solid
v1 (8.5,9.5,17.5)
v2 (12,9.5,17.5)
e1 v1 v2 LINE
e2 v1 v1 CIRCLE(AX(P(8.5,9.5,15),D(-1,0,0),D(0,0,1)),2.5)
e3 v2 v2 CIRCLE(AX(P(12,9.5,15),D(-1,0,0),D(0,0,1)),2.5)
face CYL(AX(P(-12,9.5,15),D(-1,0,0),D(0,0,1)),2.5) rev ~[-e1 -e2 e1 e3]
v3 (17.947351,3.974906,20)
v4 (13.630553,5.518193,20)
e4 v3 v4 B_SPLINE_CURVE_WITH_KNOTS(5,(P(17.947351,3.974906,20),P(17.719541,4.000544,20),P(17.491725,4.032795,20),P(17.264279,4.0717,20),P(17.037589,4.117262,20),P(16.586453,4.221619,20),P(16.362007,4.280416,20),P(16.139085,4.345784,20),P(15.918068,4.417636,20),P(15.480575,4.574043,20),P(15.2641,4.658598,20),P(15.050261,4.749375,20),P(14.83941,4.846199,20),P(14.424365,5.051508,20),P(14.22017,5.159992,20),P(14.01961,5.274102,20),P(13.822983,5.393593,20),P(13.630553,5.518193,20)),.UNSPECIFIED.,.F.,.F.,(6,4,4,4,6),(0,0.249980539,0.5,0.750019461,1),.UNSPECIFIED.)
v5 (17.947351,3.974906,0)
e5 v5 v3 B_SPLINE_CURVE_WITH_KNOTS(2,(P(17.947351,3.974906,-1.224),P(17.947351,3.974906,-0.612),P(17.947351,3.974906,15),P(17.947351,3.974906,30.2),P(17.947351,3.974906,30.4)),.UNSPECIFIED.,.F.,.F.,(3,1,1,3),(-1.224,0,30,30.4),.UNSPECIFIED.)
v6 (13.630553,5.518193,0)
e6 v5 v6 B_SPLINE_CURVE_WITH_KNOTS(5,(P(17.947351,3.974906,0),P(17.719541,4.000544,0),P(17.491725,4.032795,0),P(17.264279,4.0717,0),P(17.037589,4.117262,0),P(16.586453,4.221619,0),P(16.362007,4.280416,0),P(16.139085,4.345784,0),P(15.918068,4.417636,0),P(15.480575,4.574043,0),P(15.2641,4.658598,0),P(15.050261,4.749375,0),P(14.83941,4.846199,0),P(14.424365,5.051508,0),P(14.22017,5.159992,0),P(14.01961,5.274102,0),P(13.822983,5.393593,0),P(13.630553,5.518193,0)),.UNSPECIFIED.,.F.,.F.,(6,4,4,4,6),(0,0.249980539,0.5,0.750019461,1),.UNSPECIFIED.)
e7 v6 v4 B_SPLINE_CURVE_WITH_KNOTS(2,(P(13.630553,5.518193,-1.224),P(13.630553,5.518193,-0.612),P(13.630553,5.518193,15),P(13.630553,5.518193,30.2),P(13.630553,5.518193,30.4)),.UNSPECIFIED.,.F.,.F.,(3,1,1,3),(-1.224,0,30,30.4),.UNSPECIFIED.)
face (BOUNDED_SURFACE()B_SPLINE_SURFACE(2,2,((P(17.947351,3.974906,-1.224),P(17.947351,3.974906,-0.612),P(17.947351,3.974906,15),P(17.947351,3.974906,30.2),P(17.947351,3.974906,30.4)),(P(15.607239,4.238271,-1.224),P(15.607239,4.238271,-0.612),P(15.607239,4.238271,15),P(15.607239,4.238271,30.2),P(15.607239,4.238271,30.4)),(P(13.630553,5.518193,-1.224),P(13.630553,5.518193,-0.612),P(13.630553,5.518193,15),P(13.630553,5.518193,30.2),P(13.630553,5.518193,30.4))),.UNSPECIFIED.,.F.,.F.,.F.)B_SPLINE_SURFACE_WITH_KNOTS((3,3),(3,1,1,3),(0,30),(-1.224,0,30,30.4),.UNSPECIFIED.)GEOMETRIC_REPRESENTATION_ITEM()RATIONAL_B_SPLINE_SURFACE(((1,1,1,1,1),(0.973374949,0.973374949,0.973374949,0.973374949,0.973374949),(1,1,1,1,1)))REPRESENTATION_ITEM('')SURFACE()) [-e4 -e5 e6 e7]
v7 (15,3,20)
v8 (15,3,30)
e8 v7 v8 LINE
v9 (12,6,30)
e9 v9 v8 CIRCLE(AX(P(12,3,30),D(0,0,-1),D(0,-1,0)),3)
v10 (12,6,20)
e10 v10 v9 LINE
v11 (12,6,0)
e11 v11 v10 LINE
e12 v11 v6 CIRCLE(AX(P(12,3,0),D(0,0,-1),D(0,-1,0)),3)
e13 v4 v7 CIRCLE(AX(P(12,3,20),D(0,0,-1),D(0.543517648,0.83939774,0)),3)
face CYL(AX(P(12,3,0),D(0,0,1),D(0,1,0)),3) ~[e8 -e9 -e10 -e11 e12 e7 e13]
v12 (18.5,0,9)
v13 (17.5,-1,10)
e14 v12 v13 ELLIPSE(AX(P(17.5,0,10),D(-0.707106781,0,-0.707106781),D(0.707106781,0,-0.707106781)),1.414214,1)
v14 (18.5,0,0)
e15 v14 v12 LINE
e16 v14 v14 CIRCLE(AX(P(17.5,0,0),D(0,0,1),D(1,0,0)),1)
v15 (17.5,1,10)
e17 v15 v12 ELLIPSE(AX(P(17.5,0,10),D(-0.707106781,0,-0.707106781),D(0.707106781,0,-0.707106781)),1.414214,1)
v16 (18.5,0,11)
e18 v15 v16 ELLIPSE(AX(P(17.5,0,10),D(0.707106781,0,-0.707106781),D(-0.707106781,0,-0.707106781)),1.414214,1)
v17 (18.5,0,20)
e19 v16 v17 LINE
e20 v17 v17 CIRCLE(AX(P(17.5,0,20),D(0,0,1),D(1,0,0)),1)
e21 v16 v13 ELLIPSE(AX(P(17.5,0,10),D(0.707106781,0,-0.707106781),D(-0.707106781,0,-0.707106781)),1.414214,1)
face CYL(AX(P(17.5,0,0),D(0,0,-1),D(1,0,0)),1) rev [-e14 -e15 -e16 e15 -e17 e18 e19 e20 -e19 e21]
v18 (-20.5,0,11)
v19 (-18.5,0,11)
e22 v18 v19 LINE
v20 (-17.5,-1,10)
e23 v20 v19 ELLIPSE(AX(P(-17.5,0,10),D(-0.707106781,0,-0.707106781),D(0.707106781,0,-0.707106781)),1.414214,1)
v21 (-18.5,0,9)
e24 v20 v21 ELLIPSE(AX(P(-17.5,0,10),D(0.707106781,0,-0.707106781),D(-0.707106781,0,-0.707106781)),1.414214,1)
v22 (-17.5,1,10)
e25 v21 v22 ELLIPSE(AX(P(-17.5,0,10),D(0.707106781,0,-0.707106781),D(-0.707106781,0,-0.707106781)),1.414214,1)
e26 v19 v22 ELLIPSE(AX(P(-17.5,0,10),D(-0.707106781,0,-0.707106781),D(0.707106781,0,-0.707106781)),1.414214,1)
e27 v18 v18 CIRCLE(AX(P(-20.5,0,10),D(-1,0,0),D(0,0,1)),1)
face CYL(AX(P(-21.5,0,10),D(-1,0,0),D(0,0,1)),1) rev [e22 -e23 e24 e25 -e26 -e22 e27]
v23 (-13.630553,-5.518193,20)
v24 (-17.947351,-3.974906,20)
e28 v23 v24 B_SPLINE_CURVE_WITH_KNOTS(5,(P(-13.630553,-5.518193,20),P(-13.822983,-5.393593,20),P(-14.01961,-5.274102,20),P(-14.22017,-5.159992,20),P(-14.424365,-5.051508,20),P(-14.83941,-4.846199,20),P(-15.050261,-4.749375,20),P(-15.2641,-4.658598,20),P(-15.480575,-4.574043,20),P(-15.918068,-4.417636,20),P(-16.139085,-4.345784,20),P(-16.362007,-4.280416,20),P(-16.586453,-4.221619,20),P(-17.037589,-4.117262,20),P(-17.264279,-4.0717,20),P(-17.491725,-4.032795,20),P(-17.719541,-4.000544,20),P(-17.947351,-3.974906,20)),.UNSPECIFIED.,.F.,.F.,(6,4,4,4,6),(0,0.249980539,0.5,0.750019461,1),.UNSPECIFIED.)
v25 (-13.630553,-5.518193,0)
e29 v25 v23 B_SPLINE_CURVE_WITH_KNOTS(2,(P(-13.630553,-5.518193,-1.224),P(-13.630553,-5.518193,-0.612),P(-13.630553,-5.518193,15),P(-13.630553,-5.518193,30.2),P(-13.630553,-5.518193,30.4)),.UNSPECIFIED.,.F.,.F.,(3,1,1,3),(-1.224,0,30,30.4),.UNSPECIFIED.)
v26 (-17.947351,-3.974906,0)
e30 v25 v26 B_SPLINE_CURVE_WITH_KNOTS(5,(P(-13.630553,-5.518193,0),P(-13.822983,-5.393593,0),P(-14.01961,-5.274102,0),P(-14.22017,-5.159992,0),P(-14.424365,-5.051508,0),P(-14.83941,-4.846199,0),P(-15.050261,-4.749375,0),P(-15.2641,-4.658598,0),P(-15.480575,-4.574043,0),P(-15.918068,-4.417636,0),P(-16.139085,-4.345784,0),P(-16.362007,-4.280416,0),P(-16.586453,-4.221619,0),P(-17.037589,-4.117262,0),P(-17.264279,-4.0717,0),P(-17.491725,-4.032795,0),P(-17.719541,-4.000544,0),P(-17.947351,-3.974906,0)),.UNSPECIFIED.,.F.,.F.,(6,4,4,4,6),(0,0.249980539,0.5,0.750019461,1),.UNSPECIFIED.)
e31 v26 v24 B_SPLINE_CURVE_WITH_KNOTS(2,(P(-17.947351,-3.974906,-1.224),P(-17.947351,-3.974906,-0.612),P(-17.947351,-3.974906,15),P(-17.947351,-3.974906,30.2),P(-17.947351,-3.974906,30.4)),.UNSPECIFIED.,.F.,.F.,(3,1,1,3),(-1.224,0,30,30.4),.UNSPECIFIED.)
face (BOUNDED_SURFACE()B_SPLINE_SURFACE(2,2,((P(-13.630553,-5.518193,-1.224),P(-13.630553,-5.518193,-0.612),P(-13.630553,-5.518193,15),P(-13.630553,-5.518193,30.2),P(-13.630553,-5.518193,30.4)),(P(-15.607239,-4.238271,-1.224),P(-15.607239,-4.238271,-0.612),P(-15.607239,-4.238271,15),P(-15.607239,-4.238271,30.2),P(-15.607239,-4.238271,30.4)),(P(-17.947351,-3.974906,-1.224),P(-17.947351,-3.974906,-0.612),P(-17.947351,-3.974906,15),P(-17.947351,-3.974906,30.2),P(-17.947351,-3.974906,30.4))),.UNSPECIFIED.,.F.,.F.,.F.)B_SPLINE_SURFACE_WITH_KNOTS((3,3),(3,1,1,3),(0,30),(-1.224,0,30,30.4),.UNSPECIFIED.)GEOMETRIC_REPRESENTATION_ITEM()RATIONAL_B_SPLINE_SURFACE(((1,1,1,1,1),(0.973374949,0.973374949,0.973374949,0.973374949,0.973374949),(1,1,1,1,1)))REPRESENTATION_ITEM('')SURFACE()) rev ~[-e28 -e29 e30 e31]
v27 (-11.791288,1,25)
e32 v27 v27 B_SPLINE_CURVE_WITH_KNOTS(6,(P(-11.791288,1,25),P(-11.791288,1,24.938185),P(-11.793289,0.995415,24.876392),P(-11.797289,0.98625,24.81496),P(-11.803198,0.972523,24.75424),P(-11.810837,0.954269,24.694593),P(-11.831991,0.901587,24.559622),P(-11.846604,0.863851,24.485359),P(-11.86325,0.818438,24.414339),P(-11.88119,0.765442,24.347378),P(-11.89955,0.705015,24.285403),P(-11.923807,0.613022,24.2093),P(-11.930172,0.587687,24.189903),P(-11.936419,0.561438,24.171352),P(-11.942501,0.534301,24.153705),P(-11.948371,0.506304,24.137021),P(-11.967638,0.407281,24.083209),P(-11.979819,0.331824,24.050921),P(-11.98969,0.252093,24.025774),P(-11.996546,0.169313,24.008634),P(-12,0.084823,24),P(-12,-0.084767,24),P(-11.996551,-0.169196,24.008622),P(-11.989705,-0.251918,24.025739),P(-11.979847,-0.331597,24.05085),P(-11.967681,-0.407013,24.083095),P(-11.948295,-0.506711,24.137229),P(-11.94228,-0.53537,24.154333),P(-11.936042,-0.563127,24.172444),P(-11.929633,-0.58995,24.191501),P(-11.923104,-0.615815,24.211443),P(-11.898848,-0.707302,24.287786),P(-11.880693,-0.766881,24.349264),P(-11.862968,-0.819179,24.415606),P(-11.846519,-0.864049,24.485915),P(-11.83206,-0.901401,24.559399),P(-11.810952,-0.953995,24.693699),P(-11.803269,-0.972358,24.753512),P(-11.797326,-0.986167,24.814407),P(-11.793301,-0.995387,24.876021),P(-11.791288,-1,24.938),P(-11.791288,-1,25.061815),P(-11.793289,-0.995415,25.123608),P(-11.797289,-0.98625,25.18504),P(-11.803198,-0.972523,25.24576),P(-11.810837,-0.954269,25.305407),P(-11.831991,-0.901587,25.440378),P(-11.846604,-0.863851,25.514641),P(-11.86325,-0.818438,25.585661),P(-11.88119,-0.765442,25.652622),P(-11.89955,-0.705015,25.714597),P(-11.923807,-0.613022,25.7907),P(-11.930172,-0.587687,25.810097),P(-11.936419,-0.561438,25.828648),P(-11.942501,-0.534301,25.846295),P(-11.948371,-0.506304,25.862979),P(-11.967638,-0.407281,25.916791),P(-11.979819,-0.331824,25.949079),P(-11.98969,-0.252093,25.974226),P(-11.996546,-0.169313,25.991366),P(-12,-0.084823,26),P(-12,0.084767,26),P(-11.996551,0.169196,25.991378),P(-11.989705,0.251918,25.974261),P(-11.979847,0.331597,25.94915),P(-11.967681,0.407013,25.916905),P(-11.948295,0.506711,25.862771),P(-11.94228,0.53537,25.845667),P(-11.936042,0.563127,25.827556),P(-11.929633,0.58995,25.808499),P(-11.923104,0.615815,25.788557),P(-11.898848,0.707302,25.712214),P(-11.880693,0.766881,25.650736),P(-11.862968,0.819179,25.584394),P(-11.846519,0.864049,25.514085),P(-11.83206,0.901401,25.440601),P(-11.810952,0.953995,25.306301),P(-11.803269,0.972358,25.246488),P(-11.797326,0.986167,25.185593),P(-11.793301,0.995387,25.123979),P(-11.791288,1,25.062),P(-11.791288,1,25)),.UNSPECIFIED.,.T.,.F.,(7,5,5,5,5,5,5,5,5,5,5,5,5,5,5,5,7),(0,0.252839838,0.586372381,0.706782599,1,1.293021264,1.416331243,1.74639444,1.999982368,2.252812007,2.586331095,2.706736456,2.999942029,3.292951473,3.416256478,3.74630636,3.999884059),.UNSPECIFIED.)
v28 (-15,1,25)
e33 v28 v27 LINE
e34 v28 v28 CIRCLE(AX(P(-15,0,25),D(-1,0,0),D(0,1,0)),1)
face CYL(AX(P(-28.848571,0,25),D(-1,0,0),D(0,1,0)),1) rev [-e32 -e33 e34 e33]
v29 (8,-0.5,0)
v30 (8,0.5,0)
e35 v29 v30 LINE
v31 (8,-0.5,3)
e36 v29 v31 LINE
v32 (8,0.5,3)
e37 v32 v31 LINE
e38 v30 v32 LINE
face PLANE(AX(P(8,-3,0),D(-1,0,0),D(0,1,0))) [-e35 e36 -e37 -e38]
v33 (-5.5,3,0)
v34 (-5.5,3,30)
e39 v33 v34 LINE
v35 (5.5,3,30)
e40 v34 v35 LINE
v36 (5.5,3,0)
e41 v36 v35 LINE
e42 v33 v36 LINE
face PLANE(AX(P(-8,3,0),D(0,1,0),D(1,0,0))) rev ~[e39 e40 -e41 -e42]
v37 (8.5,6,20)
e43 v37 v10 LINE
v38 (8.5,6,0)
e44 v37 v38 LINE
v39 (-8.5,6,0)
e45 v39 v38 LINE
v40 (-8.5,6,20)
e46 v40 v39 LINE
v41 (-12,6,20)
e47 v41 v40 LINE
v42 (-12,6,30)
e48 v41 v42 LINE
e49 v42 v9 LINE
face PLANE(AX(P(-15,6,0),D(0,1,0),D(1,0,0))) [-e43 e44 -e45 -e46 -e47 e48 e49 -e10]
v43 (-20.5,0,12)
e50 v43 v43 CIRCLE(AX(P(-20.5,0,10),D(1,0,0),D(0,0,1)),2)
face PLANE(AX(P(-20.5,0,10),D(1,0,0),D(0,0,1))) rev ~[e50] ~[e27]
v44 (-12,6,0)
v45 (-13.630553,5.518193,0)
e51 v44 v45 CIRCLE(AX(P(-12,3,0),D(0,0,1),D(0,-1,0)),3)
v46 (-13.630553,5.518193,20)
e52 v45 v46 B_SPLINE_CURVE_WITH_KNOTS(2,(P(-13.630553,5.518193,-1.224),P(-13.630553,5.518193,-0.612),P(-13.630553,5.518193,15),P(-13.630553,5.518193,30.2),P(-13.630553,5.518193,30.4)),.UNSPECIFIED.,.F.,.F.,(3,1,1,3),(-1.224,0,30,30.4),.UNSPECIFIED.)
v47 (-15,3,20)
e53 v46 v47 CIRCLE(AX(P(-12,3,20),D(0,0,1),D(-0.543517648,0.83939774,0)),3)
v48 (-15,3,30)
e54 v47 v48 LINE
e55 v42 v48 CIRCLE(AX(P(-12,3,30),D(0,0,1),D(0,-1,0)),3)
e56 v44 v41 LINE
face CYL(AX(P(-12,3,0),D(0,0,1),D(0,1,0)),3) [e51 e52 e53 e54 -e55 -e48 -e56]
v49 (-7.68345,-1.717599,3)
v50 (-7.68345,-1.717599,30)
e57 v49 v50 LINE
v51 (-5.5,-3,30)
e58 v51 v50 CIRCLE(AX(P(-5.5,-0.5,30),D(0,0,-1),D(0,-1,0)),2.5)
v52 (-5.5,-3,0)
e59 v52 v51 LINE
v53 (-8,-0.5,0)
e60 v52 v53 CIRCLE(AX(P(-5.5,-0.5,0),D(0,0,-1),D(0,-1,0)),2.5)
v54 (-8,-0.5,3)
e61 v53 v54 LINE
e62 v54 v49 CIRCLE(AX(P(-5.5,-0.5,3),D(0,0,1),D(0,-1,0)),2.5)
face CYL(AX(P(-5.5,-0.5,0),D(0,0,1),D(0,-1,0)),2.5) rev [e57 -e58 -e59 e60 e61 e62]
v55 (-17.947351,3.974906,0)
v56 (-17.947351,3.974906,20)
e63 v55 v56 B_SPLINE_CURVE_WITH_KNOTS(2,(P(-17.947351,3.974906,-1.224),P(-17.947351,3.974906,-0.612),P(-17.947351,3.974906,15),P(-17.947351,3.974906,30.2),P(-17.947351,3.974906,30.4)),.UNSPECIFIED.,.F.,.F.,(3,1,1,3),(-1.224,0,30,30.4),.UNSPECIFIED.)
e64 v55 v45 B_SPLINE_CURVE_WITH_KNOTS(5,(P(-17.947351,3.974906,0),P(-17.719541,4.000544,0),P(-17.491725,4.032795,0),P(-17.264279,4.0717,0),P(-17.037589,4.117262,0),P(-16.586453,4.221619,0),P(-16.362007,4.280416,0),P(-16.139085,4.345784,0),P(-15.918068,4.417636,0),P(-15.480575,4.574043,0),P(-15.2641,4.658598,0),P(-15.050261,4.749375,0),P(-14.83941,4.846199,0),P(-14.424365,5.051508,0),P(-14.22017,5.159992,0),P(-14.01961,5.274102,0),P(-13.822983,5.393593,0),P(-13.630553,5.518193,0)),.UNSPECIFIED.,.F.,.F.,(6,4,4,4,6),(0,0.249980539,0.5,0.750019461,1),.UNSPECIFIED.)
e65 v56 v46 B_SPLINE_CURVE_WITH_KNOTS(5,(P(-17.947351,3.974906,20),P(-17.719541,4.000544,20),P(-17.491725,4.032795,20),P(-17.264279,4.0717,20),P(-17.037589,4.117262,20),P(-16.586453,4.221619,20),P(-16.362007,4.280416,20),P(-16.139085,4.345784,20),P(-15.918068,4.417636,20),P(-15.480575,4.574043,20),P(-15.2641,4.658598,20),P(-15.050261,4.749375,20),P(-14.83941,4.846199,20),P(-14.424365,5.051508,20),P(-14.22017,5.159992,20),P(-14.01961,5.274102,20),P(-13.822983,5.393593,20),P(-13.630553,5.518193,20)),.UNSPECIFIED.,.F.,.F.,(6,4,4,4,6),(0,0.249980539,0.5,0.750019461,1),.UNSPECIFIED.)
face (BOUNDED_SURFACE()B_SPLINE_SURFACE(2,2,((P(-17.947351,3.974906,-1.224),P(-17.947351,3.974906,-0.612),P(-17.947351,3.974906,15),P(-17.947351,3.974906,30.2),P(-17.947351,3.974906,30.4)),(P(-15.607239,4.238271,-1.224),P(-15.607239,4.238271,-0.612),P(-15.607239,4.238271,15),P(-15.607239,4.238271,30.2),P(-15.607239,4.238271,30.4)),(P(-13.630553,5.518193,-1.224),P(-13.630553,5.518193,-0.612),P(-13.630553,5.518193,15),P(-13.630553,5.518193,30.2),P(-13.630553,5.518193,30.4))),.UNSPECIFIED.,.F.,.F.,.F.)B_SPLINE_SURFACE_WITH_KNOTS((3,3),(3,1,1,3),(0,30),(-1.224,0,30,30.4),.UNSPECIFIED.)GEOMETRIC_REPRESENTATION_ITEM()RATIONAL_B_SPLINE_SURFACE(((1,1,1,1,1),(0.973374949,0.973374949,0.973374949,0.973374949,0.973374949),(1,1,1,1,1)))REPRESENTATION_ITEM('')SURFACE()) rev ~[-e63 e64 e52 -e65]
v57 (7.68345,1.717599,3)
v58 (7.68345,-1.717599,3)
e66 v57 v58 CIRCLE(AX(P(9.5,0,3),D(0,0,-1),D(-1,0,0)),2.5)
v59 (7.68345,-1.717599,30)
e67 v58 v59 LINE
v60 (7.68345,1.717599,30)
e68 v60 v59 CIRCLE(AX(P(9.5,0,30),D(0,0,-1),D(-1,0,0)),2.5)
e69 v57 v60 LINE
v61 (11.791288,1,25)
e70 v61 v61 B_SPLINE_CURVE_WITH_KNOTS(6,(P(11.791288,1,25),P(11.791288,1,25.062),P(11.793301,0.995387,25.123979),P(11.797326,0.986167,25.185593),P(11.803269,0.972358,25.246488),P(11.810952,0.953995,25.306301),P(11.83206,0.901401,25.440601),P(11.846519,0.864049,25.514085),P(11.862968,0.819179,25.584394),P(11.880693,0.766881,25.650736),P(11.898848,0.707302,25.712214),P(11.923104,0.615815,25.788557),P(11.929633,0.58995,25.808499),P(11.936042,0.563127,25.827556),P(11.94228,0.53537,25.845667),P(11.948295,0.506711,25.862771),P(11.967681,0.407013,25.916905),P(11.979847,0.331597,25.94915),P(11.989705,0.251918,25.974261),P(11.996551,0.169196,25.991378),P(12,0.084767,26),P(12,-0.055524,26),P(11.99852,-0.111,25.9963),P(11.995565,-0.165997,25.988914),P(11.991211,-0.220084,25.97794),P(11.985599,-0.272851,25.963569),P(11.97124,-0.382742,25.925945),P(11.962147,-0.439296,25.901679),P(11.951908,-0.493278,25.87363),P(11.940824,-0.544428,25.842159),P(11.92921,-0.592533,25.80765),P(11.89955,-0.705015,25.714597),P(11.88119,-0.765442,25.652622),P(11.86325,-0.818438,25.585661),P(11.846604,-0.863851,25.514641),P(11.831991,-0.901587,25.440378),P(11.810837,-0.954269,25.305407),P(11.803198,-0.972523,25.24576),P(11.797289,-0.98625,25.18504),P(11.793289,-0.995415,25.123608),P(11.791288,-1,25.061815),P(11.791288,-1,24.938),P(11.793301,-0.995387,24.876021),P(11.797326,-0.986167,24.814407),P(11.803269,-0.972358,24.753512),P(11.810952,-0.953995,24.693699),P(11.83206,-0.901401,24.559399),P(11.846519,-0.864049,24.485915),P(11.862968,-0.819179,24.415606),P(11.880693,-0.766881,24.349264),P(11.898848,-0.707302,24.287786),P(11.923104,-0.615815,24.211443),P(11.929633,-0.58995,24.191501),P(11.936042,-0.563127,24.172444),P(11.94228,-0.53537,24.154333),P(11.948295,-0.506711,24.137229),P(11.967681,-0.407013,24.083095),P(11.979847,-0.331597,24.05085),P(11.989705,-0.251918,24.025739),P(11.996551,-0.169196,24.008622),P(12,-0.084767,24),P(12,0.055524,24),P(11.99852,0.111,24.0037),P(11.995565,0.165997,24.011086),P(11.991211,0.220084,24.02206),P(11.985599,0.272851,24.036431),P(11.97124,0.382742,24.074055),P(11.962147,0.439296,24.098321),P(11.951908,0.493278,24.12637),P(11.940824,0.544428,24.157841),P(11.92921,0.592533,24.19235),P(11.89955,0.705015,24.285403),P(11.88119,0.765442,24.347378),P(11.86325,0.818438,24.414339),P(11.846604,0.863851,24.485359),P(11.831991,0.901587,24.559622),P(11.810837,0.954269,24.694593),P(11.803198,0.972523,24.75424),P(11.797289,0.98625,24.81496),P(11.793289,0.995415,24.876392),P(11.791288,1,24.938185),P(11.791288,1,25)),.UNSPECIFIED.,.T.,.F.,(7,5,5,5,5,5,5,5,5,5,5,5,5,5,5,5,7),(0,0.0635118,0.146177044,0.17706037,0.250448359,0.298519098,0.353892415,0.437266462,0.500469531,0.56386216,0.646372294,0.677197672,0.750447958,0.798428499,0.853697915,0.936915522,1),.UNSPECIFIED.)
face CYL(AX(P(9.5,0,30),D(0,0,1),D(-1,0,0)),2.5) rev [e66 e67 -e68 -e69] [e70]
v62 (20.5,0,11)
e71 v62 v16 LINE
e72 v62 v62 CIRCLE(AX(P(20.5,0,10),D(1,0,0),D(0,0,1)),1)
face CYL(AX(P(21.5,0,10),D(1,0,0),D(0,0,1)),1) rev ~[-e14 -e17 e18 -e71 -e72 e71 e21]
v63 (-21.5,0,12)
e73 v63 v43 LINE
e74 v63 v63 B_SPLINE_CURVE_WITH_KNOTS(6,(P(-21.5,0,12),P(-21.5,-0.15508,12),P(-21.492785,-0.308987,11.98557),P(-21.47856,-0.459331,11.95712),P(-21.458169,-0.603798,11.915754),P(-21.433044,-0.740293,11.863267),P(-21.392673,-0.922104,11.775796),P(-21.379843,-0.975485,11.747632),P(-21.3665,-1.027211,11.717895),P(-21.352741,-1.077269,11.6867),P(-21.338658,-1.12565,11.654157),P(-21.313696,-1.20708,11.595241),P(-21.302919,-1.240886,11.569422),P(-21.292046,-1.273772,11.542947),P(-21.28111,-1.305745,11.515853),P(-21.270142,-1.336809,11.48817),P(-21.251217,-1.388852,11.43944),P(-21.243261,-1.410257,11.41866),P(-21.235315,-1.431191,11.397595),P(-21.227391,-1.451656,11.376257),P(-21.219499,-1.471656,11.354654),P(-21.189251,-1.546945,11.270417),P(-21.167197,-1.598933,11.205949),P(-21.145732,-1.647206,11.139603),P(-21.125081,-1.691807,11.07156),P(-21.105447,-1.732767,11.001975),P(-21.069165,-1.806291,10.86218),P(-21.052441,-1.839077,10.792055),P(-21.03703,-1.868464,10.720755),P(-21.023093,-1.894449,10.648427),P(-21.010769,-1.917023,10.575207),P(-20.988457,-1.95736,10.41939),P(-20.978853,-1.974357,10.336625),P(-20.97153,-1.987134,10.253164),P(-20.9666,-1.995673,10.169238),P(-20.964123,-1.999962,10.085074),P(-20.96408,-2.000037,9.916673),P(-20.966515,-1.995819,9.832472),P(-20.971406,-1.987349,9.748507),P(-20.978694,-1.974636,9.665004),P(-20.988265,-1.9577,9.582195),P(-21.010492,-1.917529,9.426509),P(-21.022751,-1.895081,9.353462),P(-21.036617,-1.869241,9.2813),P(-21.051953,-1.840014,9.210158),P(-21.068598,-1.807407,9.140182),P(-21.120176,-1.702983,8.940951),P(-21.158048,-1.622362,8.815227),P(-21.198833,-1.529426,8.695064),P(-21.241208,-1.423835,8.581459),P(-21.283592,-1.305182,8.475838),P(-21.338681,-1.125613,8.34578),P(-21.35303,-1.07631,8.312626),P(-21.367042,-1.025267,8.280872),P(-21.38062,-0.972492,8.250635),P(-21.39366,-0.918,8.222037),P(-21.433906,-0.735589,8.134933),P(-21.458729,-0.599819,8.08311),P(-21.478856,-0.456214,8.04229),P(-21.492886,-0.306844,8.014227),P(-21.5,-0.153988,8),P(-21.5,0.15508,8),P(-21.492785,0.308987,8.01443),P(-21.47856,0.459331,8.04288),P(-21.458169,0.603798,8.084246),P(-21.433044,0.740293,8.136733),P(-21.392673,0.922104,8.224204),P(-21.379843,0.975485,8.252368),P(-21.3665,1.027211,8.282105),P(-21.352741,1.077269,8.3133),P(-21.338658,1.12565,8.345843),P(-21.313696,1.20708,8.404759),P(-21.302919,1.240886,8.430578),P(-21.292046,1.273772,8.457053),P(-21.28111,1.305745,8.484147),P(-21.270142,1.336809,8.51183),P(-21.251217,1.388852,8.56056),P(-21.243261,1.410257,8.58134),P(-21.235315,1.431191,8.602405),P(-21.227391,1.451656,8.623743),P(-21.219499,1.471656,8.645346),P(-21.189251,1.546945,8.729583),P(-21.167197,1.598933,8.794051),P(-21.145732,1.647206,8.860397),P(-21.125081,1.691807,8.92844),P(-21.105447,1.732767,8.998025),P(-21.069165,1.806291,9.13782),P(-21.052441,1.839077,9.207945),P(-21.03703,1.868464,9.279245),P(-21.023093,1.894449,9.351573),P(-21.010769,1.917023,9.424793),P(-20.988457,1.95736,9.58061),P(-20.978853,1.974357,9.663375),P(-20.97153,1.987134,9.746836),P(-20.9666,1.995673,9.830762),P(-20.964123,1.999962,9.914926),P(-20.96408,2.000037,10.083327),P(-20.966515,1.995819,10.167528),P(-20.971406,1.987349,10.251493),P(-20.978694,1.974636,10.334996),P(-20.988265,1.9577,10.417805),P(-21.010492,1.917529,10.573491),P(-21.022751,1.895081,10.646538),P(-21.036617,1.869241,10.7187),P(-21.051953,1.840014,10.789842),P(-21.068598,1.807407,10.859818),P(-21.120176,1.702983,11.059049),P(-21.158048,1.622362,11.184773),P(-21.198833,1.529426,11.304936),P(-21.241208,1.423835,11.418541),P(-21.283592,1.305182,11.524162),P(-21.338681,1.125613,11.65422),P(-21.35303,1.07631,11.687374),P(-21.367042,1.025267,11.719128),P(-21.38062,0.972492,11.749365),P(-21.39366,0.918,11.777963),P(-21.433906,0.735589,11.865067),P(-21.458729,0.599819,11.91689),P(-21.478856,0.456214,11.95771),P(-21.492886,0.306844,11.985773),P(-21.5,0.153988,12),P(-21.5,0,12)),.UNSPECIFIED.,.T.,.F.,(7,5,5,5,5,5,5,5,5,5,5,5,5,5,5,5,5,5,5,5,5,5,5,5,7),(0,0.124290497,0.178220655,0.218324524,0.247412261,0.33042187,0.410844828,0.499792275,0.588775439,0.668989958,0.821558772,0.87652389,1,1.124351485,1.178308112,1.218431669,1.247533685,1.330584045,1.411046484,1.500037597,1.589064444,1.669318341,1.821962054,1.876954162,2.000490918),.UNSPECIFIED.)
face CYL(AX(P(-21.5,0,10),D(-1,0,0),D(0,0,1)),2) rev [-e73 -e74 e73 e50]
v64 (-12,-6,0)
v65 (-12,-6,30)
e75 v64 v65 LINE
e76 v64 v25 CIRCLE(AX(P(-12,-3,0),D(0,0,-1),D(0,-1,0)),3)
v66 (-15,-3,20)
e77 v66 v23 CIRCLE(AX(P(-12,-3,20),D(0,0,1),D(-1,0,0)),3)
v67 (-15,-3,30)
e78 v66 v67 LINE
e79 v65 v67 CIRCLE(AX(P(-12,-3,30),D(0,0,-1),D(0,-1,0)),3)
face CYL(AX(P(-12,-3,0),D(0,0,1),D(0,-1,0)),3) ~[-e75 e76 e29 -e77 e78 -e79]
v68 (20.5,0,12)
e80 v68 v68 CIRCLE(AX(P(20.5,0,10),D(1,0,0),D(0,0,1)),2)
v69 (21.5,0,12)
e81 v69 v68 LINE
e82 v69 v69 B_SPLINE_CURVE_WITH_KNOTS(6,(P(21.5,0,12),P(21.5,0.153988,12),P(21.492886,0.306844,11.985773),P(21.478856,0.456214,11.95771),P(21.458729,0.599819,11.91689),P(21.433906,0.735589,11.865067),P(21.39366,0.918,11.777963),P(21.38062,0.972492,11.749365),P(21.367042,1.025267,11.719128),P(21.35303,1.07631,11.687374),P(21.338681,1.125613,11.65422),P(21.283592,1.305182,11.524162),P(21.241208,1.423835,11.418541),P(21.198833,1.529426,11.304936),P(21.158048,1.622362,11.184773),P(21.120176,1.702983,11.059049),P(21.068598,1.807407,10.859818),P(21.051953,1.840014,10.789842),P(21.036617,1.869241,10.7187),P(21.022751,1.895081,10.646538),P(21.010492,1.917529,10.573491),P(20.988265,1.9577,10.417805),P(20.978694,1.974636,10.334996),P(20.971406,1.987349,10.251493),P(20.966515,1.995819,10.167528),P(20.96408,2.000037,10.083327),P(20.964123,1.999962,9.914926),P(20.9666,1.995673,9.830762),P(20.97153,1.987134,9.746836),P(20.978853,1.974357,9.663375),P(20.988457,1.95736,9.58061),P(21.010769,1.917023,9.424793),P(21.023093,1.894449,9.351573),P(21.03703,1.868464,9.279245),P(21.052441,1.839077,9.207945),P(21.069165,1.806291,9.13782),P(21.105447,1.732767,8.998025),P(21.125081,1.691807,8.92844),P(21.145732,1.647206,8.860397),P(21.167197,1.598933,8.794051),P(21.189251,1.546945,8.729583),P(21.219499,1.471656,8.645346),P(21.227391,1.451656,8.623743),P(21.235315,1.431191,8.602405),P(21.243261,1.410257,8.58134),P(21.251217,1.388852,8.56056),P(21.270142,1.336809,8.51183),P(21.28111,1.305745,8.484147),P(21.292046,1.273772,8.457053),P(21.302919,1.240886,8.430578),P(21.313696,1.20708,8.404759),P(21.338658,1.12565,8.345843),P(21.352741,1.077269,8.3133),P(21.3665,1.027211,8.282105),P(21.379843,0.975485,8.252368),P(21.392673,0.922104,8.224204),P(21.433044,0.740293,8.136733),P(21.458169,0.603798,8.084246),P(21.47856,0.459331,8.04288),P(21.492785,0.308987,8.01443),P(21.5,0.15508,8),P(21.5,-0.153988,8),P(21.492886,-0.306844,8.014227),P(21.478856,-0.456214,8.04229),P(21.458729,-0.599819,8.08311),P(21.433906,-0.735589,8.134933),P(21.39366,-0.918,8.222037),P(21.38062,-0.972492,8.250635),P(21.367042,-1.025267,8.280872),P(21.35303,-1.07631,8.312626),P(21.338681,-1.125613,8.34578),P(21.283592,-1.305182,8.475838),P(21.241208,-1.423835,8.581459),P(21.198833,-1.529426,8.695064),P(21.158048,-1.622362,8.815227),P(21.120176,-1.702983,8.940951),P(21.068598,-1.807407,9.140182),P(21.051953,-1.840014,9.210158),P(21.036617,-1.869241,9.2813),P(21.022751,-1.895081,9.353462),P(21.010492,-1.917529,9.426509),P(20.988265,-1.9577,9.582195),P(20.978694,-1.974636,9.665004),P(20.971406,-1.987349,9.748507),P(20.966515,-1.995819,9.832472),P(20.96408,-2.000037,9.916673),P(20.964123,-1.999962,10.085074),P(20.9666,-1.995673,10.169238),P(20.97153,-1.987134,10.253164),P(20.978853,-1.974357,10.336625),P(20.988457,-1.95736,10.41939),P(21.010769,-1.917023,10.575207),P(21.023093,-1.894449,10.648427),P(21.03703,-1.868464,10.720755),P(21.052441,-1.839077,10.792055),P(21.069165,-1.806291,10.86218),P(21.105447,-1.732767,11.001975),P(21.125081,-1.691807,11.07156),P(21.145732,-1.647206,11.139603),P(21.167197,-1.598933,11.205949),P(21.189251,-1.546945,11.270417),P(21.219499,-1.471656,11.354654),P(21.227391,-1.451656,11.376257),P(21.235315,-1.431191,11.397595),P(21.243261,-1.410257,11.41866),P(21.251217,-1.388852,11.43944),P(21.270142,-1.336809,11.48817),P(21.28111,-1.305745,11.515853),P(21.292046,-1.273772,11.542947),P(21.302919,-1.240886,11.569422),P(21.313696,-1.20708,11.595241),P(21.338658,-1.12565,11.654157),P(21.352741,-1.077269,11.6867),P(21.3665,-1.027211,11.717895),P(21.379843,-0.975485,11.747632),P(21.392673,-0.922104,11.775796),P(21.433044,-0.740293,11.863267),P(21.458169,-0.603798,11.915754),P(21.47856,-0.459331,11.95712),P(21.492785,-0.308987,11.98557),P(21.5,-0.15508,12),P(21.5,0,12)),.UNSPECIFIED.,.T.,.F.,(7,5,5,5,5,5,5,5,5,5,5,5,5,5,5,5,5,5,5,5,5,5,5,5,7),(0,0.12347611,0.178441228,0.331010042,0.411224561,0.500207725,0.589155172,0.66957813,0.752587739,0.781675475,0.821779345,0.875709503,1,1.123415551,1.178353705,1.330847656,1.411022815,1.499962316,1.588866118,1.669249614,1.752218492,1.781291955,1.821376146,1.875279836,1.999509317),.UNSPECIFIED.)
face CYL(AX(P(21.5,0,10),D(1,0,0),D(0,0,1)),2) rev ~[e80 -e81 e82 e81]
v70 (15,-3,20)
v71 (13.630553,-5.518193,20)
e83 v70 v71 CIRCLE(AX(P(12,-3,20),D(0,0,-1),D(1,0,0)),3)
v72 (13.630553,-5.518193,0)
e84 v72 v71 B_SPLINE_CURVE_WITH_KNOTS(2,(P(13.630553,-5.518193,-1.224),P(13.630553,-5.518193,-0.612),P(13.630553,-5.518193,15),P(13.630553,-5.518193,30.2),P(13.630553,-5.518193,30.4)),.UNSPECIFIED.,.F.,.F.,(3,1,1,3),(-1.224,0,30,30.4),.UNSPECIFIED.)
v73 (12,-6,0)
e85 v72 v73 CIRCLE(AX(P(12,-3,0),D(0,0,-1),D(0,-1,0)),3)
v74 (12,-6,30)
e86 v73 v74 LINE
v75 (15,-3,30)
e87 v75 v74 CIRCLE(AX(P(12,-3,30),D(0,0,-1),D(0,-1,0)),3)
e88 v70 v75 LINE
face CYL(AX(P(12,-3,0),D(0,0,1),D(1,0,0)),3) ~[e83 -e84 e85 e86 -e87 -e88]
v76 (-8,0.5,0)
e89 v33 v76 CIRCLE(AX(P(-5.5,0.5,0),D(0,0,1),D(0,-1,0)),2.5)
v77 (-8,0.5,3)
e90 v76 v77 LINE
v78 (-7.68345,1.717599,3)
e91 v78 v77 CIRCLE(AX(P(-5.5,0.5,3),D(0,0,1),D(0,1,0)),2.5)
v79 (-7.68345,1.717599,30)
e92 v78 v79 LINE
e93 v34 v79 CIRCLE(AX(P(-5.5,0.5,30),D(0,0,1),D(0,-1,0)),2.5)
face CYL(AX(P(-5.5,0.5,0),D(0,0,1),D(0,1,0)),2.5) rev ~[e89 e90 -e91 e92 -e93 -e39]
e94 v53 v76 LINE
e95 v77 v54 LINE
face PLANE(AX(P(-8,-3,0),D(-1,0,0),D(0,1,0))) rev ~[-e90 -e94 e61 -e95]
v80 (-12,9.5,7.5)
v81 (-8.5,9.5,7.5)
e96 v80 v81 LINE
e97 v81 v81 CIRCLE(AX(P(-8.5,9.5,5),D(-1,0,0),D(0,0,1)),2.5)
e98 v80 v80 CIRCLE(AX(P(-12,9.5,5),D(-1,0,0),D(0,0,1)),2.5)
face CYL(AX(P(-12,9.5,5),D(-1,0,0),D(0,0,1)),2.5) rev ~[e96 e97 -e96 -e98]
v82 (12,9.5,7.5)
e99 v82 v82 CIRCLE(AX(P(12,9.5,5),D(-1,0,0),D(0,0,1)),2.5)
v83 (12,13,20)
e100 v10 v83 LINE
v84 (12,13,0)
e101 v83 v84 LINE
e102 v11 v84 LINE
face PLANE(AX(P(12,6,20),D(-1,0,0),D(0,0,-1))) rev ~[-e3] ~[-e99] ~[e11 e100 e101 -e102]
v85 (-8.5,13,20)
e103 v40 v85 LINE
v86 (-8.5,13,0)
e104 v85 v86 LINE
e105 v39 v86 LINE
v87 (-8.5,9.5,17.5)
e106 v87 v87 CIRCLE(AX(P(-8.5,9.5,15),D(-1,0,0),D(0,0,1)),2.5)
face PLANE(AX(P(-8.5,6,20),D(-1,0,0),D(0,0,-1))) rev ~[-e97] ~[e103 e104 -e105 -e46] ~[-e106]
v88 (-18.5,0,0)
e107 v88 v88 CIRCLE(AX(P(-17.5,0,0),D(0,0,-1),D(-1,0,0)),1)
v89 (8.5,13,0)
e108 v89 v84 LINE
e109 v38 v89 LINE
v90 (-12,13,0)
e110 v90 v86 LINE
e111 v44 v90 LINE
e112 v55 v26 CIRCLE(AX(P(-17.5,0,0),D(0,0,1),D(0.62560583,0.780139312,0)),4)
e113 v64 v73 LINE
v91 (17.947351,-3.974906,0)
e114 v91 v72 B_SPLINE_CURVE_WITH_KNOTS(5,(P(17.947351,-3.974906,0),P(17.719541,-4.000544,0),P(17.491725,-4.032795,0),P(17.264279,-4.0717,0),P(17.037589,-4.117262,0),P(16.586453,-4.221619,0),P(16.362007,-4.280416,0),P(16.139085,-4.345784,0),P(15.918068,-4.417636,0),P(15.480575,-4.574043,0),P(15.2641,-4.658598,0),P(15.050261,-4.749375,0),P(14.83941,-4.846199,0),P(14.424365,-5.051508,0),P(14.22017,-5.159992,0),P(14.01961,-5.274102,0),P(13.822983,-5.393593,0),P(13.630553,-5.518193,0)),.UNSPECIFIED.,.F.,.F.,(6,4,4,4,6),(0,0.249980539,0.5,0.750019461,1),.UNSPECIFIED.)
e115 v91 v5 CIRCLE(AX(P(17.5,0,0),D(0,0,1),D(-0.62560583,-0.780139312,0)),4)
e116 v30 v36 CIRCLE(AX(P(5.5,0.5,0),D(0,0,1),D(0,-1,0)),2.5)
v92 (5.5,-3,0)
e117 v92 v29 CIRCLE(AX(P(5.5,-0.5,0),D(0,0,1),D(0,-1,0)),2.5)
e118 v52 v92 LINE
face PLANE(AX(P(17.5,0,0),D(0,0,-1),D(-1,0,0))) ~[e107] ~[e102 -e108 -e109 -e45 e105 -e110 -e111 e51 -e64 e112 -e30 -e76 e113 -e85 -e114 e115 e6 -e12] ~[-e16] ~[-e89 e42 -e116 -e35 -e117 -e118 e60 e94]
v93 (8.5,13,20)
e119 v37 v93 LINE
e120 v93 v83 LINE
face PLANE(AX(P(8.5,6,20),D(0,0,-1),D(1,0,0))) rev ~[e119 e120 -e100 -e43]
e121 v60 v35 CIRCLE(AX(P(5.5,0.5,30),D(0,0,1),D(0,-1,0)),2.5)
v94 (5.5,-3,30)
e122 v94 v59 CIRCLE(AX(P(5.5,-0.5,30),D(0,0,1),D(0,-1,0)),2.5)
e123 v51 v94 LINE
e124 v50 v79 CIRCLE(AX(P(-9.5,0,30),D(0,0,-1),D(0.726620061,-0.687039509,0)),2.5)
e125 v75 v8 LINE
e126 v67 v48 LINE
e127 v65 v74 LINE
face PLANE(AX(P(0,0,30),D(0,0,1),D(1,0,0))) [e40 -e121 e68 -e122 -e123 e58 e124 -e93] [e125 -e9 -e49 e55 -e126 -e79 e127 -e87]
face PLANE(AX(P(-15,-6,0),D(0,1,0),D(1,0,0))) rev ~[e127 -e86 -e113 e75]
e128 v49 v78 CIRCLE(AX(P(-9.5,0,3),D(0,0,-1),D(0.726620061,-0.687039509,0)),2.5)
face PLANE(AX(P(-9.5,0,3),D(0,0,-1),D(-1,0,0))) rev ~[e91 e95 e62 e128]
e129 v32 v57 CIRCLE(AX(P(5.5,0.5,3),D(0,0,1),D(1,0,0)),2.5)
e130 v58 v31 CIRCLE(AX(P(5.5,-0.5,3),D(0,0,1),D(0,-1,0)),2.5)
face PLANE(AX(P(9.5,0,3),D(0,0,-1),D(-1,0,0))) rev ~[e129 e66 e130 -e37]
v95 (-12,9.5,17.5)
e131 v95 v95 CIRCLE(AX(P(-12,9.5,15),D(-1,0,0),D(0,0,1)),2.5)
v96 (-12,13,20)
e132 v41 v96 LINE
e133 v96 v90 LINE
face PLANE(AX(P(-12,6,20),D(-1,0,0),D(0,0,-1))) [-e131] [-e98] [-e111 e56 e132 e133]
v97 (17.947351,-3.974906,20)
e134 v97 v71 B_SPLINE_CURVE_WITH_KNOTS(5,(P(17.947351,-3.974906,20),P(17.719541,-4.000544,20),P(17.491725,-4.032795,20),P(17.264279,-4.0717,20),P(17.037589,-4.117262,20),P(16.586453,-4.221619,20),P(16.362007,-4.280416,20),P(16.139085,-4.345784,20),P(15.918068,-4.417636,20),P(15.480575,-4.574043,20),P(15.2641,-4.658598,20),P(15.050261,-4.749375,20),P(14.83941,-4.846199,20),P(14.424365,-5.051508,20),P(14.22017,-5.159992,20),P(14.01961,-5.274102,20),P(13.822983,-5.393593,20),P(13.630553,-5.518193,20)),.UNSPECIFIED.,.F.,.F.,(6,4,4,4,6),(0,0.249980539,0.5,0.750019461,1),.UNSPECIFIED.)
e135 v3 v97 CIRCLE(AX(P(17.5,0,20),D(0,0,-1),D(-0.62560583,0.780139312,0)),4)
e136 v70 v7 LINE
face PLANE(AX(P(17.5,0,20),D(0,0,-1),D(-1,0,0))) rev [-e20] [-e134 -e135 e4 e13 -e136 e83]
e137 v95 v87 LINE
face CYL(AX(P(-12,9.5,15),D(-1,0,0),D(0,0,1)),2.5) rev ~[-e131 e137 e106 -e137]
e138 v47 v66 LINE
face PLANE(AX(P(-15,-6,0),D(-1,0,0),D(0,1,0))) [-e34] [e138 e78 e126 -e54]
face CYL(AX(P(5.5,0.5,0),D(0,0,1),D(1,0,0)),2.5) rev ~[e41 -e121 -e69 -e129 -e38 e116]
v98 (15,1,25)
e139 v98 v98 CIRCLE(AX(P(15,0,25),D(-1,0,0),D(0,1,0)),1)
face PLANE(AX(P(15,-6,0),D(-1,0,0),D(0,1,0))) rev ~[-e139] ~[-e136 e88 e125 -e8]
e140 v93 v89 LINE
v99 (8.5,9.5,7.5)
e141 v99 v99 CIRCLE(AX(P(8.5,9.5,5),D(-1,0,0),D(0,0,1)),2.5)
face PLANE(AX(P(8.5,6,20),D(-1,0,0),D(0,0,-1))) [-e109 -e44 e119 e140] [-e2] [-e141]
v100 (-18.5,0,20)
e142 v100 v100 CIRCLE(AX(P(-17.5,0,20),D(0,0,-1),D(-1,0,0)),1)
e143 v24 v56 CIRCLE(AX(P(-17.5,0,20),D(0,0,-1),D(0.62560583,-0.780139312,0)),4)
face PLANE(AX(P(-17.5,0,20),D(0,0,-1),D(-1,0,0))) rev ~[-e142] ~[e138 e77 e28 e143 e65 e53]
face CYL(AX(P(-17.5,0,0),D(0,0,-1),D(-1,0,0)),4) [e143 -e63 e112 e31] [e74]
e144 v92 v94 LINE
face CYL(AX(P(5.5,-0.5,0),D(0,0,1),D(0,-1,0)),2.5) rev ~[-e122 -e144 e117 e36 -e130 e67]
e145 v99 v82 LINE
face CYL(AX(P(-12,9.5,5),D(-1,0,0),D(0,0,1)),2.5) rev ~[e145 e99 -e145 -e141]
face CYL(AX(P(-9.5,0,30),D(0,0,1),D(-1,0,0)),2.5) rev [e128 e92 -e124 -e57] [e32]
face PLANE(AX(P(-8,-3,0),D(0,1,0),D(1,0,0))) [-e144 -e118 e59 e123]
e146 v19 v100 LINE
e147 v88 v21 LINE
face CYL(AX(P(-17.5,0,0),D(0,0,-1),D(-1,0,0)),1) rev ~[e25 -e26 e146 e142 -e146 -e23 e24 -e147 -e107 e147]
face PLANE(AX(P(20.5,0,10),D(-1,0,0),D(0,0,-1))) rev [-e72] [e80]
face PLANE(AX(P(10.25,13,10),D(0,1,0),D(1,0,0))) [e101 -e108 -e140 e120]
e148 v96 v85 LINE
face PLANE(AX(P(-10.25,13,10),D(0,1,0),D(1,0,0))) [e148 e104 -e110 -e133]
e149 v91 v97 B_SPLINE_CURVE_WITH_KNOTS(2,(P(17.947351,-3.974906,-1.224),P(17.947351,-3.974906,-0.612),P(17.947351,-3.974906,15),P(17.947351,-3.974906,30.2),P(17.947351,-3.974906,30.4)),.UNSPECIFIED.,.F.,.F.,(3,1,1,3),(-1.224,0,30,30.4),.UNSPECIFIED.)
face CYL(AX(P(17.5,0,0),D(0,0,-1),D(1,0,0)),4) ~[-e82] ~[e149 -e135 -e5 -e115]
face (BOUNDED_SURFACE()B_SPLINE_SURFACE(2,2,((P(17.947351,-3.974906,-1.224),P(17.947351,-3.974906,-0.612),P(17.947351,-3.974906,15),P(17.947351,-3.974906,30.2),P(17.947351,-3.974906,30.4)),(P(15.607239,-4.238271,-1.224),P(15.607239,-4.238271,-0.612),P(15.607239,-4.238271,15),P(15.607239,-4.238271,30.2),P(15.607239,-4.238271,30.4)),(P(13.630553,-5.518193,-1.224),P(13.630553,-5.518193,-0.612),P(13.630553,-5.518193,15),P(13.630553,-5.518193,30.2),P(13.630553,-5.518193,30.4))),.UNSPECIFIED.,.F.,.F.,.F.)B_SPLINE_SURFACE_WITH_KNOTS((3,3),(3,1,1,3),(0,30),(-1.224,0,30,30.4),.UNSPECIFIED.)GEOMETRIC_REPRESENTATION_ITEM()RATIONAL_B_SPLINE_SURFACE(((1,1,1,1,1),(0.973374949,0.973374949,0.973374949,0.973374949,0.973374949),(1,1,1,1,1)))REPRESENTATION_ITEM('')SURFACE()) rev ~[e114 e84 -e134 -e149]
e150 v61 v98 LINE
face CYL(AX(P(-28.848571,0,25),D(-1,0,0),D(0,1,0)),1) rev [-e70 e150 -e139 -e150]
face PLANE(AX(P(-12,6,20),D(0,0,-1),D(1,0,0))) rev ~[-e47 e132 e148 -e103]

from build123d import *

# Parameters (mm, degrees)
SKETCH1_W               = 30
SKETCH1_H               = 12
SKETCH1_W_2             = 16
SKETCH1_H_2             = 6
BOSS_EXTRUDE1_DEPTH     = 30
FILLET1_R               = 2.5
CUT_EXTRUDE6_DEPTH      = 43.848570571
CUT_EXTRUDE6_DEPTH_BACK = 43.848570571
SKETCH22_R              = 1
SKETCH18_R              = 2.5
SKETCH18_R_2            = 2
SKETCH18_R_3            = 0.85
CUT_EXTRUDE3_DEPTH      = 27
FILLET2_R               = 3
SKETCH23_W              = 3.5
SKETCH23_H              = 20
BOSS_EXTRUDE3_DEPTH     = 7
SKETCH24_R              = 2.5
CUT_EXTRUDE7_DEPTH      = 74
SKETCH19_R              = 4
SKETCH19_R_2            = 1
BOSS_EXTRUDE2_DEPTH     = 20
SKETCH25_R              = 1
CUT_EXTRUDE8_DEPTH      = 4
SKETCH26_R              = 2
CUT_EXTRUDE9_DEPTH      = 1
FILLET3_R               = 10


with BuildPart() as part:
    # Sketch1 → Boss-Extrude1 (new body)
    with BuildSketch(Plane.XY):
        Rectangle(SKETCH1_W, SKETCH1_H)
        Rectangle(SKETCH1_W_2, SKETCH1_H_2, mode=Mode.SUBTRACT)
    extrude(amount=BOSS_EXTRUDE1_DEPTH)

    # Fillet1
    fillet1_edges = [part.edges().sort_by_distance(p)[0] for p in [
        (8, -3, 15),
        (8, 3, 15),
        (-8, 3, 15),
        (-8, -3, 15),
    ]]
    fillet(fillet1_edges, radius=FILLET1_R)

    # Sketch22 → Cut-Extrude6 (cut, two sides: drawn at the far end of the back side and taken through both)
    with BuildSketch(Plane(origin=(15, 0, 0), x_dir=(0, 0, -1), z_dir=(1, 0, 0)).offset(-CUT_EXTRUDE6_DEPTH_BACK)):
        with Locations(Location((-25, 0, 0), (0, 0, 90))):
            Circle(SKETCH22_R)
    extrude(amount=CUT_EXTRUDE6_DEPTH + CUT_EXTRUDE6_DEPTH_BACK, mode=Mode.SUBTRACT)

    # Sketch18 → Cut-Extrude3 (cut)
    with BuildSketch(Plane(origin=(0, 0, 30), x_dir=(-1, 0, 0), z_dir=(0, 0, -1))):
        with Locations((-9.5, 0)):
            Circle(SKETCH18_R)
        with Locations((9.5, 0)):
            Circle(SKETCH18_R)
        Circle(SKETCH18_R_2)
        with Locations((4.5, 0)):
            Circle(SKETCH18_R_3)
        with Locations((-4.5, 0)):
            Circle(SKETCH18_R_3)
    extrude(amount=CUT_EXTRUDE3_DEPTH, mode=Mode.SUBTRACT)

    # Fillet2
    fillet2_edges = [part.edges().sort_by_distance(p)[0] for p in [
        (15, -6, 15),
        (-15, -6, 15),
        (-15, 6, 15),
        (15, 6, 15),
    ]]
    fillet(fillet2_edges, radius=FILLET2_R)

    # Sketch23 → Boss-Extrude3 (add)
    with BuildSketch(Plane(origin=(0, 6, 0), x_dir=(1, 0, 0), z_dir=(0, 1, 0))):
        with Locations((-10.25, -10)):
            Rectangle(SKETCH23_W, SKETCH23_H)
        with Locations((10.25, -10)):
            Rectangle(SKETCH23_W, SKETCH23_H)
    extrude(amount=BOSS_EXTRUDE3_DEPTH)

    # Sketch24 → Cut-Extrude7 (cut)
    with BuildSketch(Plane.ZY.offset(12)):
        with Locations((15, 9.5)):
            Circle(SKETCH24_R)
        with Locations((5, 9.5)):
            Circle(SKETCH24_R)
    extrude(amount=-CUT_EXTRUDE7_DEPTH, mode=Mode.SUBTRACT)

    # Sketch19 → Boss-Extrude2 (add)
    with BuildSketch(Plane(origin=(0, 0, 0), x_dir=(-1, 0, 0), z_dir=(0, 0, -1))):
        with Locations((17.5, 0)):
            Circle(SKETCH19_R)
        with Locations((17.5, 0)):
            Circle(SKETCH19_R_2, mode=Mode.SUBTRACT)
    boss_extrude2 = extrude(amount=-BOSS_EXTRUDE2_DEPTH)

    # Sketch25 → Cut-Extrude8 (cut)
    with BuildSketch(Plane(origin=(-21.5, 0, 0), x_dir=(0, 0, -1), z_dir=(1, 0, 0))):
        with Locations(Location((-10, 0, 0), (0, 0, 180))):
            Circle(SKETCH25_R)
    cut_extrude8 = extrude(amount=CUT_EXTRUDE8_DEPTH, mode=Mode.SUBTRACT)

    # Sketch26 → Cut-Extrude9 (cut)
    with BuildSketch(Plane(origin=(-21.5, 0, 0), x_dir=(0, 0, -1), z_dir=(1, 0, 0))):
        with Locations(Location((-10, 0, 0), (0, 0, 180))):
            Circle(SKETCH26_R)
    cut_extrude9 = extrude(amount=CUT_EXTRUDE9_DEPTH, mode=Mode.SUBTRACT)

    # Mirror1: Boss-Extrude2, Cut-Extrude8, Cut-Extrude9 across plane
    add(boss_extrude2.mirror(Plane(origin=(0, 0, 0), x_dir=(0, 0, 1), z_dir=(1, 0, 0))))
    add(cut_extrude8.mirror(Plane(origin=(0, 0, 0), x_dir=(0, 0, 1), z_dir=(1, 0, 0))), mode=Mode.SUBTRACT)
    add(cut_extrude9.mirror(Plane(origin=(0, 0, 0), x_dir=(0, 0, 1), z_dir=(1, 0, 0))), mode=Mode.SUBTRACT)

    # Fillet3
    fillet3_edges = [part.edges().sort_by_distance(p)[0] for p in [
        (-14.99757668, 3.120557246, 10),
        (-14.99757668, -3.120557246, 10),
        (14.99757668, 3.120557246, 10),
        (14.99757668, -3.120557246, 10),
    ]]
    fillet(fillet3_edges, radius=FILLET3_R)


solid = part.part
